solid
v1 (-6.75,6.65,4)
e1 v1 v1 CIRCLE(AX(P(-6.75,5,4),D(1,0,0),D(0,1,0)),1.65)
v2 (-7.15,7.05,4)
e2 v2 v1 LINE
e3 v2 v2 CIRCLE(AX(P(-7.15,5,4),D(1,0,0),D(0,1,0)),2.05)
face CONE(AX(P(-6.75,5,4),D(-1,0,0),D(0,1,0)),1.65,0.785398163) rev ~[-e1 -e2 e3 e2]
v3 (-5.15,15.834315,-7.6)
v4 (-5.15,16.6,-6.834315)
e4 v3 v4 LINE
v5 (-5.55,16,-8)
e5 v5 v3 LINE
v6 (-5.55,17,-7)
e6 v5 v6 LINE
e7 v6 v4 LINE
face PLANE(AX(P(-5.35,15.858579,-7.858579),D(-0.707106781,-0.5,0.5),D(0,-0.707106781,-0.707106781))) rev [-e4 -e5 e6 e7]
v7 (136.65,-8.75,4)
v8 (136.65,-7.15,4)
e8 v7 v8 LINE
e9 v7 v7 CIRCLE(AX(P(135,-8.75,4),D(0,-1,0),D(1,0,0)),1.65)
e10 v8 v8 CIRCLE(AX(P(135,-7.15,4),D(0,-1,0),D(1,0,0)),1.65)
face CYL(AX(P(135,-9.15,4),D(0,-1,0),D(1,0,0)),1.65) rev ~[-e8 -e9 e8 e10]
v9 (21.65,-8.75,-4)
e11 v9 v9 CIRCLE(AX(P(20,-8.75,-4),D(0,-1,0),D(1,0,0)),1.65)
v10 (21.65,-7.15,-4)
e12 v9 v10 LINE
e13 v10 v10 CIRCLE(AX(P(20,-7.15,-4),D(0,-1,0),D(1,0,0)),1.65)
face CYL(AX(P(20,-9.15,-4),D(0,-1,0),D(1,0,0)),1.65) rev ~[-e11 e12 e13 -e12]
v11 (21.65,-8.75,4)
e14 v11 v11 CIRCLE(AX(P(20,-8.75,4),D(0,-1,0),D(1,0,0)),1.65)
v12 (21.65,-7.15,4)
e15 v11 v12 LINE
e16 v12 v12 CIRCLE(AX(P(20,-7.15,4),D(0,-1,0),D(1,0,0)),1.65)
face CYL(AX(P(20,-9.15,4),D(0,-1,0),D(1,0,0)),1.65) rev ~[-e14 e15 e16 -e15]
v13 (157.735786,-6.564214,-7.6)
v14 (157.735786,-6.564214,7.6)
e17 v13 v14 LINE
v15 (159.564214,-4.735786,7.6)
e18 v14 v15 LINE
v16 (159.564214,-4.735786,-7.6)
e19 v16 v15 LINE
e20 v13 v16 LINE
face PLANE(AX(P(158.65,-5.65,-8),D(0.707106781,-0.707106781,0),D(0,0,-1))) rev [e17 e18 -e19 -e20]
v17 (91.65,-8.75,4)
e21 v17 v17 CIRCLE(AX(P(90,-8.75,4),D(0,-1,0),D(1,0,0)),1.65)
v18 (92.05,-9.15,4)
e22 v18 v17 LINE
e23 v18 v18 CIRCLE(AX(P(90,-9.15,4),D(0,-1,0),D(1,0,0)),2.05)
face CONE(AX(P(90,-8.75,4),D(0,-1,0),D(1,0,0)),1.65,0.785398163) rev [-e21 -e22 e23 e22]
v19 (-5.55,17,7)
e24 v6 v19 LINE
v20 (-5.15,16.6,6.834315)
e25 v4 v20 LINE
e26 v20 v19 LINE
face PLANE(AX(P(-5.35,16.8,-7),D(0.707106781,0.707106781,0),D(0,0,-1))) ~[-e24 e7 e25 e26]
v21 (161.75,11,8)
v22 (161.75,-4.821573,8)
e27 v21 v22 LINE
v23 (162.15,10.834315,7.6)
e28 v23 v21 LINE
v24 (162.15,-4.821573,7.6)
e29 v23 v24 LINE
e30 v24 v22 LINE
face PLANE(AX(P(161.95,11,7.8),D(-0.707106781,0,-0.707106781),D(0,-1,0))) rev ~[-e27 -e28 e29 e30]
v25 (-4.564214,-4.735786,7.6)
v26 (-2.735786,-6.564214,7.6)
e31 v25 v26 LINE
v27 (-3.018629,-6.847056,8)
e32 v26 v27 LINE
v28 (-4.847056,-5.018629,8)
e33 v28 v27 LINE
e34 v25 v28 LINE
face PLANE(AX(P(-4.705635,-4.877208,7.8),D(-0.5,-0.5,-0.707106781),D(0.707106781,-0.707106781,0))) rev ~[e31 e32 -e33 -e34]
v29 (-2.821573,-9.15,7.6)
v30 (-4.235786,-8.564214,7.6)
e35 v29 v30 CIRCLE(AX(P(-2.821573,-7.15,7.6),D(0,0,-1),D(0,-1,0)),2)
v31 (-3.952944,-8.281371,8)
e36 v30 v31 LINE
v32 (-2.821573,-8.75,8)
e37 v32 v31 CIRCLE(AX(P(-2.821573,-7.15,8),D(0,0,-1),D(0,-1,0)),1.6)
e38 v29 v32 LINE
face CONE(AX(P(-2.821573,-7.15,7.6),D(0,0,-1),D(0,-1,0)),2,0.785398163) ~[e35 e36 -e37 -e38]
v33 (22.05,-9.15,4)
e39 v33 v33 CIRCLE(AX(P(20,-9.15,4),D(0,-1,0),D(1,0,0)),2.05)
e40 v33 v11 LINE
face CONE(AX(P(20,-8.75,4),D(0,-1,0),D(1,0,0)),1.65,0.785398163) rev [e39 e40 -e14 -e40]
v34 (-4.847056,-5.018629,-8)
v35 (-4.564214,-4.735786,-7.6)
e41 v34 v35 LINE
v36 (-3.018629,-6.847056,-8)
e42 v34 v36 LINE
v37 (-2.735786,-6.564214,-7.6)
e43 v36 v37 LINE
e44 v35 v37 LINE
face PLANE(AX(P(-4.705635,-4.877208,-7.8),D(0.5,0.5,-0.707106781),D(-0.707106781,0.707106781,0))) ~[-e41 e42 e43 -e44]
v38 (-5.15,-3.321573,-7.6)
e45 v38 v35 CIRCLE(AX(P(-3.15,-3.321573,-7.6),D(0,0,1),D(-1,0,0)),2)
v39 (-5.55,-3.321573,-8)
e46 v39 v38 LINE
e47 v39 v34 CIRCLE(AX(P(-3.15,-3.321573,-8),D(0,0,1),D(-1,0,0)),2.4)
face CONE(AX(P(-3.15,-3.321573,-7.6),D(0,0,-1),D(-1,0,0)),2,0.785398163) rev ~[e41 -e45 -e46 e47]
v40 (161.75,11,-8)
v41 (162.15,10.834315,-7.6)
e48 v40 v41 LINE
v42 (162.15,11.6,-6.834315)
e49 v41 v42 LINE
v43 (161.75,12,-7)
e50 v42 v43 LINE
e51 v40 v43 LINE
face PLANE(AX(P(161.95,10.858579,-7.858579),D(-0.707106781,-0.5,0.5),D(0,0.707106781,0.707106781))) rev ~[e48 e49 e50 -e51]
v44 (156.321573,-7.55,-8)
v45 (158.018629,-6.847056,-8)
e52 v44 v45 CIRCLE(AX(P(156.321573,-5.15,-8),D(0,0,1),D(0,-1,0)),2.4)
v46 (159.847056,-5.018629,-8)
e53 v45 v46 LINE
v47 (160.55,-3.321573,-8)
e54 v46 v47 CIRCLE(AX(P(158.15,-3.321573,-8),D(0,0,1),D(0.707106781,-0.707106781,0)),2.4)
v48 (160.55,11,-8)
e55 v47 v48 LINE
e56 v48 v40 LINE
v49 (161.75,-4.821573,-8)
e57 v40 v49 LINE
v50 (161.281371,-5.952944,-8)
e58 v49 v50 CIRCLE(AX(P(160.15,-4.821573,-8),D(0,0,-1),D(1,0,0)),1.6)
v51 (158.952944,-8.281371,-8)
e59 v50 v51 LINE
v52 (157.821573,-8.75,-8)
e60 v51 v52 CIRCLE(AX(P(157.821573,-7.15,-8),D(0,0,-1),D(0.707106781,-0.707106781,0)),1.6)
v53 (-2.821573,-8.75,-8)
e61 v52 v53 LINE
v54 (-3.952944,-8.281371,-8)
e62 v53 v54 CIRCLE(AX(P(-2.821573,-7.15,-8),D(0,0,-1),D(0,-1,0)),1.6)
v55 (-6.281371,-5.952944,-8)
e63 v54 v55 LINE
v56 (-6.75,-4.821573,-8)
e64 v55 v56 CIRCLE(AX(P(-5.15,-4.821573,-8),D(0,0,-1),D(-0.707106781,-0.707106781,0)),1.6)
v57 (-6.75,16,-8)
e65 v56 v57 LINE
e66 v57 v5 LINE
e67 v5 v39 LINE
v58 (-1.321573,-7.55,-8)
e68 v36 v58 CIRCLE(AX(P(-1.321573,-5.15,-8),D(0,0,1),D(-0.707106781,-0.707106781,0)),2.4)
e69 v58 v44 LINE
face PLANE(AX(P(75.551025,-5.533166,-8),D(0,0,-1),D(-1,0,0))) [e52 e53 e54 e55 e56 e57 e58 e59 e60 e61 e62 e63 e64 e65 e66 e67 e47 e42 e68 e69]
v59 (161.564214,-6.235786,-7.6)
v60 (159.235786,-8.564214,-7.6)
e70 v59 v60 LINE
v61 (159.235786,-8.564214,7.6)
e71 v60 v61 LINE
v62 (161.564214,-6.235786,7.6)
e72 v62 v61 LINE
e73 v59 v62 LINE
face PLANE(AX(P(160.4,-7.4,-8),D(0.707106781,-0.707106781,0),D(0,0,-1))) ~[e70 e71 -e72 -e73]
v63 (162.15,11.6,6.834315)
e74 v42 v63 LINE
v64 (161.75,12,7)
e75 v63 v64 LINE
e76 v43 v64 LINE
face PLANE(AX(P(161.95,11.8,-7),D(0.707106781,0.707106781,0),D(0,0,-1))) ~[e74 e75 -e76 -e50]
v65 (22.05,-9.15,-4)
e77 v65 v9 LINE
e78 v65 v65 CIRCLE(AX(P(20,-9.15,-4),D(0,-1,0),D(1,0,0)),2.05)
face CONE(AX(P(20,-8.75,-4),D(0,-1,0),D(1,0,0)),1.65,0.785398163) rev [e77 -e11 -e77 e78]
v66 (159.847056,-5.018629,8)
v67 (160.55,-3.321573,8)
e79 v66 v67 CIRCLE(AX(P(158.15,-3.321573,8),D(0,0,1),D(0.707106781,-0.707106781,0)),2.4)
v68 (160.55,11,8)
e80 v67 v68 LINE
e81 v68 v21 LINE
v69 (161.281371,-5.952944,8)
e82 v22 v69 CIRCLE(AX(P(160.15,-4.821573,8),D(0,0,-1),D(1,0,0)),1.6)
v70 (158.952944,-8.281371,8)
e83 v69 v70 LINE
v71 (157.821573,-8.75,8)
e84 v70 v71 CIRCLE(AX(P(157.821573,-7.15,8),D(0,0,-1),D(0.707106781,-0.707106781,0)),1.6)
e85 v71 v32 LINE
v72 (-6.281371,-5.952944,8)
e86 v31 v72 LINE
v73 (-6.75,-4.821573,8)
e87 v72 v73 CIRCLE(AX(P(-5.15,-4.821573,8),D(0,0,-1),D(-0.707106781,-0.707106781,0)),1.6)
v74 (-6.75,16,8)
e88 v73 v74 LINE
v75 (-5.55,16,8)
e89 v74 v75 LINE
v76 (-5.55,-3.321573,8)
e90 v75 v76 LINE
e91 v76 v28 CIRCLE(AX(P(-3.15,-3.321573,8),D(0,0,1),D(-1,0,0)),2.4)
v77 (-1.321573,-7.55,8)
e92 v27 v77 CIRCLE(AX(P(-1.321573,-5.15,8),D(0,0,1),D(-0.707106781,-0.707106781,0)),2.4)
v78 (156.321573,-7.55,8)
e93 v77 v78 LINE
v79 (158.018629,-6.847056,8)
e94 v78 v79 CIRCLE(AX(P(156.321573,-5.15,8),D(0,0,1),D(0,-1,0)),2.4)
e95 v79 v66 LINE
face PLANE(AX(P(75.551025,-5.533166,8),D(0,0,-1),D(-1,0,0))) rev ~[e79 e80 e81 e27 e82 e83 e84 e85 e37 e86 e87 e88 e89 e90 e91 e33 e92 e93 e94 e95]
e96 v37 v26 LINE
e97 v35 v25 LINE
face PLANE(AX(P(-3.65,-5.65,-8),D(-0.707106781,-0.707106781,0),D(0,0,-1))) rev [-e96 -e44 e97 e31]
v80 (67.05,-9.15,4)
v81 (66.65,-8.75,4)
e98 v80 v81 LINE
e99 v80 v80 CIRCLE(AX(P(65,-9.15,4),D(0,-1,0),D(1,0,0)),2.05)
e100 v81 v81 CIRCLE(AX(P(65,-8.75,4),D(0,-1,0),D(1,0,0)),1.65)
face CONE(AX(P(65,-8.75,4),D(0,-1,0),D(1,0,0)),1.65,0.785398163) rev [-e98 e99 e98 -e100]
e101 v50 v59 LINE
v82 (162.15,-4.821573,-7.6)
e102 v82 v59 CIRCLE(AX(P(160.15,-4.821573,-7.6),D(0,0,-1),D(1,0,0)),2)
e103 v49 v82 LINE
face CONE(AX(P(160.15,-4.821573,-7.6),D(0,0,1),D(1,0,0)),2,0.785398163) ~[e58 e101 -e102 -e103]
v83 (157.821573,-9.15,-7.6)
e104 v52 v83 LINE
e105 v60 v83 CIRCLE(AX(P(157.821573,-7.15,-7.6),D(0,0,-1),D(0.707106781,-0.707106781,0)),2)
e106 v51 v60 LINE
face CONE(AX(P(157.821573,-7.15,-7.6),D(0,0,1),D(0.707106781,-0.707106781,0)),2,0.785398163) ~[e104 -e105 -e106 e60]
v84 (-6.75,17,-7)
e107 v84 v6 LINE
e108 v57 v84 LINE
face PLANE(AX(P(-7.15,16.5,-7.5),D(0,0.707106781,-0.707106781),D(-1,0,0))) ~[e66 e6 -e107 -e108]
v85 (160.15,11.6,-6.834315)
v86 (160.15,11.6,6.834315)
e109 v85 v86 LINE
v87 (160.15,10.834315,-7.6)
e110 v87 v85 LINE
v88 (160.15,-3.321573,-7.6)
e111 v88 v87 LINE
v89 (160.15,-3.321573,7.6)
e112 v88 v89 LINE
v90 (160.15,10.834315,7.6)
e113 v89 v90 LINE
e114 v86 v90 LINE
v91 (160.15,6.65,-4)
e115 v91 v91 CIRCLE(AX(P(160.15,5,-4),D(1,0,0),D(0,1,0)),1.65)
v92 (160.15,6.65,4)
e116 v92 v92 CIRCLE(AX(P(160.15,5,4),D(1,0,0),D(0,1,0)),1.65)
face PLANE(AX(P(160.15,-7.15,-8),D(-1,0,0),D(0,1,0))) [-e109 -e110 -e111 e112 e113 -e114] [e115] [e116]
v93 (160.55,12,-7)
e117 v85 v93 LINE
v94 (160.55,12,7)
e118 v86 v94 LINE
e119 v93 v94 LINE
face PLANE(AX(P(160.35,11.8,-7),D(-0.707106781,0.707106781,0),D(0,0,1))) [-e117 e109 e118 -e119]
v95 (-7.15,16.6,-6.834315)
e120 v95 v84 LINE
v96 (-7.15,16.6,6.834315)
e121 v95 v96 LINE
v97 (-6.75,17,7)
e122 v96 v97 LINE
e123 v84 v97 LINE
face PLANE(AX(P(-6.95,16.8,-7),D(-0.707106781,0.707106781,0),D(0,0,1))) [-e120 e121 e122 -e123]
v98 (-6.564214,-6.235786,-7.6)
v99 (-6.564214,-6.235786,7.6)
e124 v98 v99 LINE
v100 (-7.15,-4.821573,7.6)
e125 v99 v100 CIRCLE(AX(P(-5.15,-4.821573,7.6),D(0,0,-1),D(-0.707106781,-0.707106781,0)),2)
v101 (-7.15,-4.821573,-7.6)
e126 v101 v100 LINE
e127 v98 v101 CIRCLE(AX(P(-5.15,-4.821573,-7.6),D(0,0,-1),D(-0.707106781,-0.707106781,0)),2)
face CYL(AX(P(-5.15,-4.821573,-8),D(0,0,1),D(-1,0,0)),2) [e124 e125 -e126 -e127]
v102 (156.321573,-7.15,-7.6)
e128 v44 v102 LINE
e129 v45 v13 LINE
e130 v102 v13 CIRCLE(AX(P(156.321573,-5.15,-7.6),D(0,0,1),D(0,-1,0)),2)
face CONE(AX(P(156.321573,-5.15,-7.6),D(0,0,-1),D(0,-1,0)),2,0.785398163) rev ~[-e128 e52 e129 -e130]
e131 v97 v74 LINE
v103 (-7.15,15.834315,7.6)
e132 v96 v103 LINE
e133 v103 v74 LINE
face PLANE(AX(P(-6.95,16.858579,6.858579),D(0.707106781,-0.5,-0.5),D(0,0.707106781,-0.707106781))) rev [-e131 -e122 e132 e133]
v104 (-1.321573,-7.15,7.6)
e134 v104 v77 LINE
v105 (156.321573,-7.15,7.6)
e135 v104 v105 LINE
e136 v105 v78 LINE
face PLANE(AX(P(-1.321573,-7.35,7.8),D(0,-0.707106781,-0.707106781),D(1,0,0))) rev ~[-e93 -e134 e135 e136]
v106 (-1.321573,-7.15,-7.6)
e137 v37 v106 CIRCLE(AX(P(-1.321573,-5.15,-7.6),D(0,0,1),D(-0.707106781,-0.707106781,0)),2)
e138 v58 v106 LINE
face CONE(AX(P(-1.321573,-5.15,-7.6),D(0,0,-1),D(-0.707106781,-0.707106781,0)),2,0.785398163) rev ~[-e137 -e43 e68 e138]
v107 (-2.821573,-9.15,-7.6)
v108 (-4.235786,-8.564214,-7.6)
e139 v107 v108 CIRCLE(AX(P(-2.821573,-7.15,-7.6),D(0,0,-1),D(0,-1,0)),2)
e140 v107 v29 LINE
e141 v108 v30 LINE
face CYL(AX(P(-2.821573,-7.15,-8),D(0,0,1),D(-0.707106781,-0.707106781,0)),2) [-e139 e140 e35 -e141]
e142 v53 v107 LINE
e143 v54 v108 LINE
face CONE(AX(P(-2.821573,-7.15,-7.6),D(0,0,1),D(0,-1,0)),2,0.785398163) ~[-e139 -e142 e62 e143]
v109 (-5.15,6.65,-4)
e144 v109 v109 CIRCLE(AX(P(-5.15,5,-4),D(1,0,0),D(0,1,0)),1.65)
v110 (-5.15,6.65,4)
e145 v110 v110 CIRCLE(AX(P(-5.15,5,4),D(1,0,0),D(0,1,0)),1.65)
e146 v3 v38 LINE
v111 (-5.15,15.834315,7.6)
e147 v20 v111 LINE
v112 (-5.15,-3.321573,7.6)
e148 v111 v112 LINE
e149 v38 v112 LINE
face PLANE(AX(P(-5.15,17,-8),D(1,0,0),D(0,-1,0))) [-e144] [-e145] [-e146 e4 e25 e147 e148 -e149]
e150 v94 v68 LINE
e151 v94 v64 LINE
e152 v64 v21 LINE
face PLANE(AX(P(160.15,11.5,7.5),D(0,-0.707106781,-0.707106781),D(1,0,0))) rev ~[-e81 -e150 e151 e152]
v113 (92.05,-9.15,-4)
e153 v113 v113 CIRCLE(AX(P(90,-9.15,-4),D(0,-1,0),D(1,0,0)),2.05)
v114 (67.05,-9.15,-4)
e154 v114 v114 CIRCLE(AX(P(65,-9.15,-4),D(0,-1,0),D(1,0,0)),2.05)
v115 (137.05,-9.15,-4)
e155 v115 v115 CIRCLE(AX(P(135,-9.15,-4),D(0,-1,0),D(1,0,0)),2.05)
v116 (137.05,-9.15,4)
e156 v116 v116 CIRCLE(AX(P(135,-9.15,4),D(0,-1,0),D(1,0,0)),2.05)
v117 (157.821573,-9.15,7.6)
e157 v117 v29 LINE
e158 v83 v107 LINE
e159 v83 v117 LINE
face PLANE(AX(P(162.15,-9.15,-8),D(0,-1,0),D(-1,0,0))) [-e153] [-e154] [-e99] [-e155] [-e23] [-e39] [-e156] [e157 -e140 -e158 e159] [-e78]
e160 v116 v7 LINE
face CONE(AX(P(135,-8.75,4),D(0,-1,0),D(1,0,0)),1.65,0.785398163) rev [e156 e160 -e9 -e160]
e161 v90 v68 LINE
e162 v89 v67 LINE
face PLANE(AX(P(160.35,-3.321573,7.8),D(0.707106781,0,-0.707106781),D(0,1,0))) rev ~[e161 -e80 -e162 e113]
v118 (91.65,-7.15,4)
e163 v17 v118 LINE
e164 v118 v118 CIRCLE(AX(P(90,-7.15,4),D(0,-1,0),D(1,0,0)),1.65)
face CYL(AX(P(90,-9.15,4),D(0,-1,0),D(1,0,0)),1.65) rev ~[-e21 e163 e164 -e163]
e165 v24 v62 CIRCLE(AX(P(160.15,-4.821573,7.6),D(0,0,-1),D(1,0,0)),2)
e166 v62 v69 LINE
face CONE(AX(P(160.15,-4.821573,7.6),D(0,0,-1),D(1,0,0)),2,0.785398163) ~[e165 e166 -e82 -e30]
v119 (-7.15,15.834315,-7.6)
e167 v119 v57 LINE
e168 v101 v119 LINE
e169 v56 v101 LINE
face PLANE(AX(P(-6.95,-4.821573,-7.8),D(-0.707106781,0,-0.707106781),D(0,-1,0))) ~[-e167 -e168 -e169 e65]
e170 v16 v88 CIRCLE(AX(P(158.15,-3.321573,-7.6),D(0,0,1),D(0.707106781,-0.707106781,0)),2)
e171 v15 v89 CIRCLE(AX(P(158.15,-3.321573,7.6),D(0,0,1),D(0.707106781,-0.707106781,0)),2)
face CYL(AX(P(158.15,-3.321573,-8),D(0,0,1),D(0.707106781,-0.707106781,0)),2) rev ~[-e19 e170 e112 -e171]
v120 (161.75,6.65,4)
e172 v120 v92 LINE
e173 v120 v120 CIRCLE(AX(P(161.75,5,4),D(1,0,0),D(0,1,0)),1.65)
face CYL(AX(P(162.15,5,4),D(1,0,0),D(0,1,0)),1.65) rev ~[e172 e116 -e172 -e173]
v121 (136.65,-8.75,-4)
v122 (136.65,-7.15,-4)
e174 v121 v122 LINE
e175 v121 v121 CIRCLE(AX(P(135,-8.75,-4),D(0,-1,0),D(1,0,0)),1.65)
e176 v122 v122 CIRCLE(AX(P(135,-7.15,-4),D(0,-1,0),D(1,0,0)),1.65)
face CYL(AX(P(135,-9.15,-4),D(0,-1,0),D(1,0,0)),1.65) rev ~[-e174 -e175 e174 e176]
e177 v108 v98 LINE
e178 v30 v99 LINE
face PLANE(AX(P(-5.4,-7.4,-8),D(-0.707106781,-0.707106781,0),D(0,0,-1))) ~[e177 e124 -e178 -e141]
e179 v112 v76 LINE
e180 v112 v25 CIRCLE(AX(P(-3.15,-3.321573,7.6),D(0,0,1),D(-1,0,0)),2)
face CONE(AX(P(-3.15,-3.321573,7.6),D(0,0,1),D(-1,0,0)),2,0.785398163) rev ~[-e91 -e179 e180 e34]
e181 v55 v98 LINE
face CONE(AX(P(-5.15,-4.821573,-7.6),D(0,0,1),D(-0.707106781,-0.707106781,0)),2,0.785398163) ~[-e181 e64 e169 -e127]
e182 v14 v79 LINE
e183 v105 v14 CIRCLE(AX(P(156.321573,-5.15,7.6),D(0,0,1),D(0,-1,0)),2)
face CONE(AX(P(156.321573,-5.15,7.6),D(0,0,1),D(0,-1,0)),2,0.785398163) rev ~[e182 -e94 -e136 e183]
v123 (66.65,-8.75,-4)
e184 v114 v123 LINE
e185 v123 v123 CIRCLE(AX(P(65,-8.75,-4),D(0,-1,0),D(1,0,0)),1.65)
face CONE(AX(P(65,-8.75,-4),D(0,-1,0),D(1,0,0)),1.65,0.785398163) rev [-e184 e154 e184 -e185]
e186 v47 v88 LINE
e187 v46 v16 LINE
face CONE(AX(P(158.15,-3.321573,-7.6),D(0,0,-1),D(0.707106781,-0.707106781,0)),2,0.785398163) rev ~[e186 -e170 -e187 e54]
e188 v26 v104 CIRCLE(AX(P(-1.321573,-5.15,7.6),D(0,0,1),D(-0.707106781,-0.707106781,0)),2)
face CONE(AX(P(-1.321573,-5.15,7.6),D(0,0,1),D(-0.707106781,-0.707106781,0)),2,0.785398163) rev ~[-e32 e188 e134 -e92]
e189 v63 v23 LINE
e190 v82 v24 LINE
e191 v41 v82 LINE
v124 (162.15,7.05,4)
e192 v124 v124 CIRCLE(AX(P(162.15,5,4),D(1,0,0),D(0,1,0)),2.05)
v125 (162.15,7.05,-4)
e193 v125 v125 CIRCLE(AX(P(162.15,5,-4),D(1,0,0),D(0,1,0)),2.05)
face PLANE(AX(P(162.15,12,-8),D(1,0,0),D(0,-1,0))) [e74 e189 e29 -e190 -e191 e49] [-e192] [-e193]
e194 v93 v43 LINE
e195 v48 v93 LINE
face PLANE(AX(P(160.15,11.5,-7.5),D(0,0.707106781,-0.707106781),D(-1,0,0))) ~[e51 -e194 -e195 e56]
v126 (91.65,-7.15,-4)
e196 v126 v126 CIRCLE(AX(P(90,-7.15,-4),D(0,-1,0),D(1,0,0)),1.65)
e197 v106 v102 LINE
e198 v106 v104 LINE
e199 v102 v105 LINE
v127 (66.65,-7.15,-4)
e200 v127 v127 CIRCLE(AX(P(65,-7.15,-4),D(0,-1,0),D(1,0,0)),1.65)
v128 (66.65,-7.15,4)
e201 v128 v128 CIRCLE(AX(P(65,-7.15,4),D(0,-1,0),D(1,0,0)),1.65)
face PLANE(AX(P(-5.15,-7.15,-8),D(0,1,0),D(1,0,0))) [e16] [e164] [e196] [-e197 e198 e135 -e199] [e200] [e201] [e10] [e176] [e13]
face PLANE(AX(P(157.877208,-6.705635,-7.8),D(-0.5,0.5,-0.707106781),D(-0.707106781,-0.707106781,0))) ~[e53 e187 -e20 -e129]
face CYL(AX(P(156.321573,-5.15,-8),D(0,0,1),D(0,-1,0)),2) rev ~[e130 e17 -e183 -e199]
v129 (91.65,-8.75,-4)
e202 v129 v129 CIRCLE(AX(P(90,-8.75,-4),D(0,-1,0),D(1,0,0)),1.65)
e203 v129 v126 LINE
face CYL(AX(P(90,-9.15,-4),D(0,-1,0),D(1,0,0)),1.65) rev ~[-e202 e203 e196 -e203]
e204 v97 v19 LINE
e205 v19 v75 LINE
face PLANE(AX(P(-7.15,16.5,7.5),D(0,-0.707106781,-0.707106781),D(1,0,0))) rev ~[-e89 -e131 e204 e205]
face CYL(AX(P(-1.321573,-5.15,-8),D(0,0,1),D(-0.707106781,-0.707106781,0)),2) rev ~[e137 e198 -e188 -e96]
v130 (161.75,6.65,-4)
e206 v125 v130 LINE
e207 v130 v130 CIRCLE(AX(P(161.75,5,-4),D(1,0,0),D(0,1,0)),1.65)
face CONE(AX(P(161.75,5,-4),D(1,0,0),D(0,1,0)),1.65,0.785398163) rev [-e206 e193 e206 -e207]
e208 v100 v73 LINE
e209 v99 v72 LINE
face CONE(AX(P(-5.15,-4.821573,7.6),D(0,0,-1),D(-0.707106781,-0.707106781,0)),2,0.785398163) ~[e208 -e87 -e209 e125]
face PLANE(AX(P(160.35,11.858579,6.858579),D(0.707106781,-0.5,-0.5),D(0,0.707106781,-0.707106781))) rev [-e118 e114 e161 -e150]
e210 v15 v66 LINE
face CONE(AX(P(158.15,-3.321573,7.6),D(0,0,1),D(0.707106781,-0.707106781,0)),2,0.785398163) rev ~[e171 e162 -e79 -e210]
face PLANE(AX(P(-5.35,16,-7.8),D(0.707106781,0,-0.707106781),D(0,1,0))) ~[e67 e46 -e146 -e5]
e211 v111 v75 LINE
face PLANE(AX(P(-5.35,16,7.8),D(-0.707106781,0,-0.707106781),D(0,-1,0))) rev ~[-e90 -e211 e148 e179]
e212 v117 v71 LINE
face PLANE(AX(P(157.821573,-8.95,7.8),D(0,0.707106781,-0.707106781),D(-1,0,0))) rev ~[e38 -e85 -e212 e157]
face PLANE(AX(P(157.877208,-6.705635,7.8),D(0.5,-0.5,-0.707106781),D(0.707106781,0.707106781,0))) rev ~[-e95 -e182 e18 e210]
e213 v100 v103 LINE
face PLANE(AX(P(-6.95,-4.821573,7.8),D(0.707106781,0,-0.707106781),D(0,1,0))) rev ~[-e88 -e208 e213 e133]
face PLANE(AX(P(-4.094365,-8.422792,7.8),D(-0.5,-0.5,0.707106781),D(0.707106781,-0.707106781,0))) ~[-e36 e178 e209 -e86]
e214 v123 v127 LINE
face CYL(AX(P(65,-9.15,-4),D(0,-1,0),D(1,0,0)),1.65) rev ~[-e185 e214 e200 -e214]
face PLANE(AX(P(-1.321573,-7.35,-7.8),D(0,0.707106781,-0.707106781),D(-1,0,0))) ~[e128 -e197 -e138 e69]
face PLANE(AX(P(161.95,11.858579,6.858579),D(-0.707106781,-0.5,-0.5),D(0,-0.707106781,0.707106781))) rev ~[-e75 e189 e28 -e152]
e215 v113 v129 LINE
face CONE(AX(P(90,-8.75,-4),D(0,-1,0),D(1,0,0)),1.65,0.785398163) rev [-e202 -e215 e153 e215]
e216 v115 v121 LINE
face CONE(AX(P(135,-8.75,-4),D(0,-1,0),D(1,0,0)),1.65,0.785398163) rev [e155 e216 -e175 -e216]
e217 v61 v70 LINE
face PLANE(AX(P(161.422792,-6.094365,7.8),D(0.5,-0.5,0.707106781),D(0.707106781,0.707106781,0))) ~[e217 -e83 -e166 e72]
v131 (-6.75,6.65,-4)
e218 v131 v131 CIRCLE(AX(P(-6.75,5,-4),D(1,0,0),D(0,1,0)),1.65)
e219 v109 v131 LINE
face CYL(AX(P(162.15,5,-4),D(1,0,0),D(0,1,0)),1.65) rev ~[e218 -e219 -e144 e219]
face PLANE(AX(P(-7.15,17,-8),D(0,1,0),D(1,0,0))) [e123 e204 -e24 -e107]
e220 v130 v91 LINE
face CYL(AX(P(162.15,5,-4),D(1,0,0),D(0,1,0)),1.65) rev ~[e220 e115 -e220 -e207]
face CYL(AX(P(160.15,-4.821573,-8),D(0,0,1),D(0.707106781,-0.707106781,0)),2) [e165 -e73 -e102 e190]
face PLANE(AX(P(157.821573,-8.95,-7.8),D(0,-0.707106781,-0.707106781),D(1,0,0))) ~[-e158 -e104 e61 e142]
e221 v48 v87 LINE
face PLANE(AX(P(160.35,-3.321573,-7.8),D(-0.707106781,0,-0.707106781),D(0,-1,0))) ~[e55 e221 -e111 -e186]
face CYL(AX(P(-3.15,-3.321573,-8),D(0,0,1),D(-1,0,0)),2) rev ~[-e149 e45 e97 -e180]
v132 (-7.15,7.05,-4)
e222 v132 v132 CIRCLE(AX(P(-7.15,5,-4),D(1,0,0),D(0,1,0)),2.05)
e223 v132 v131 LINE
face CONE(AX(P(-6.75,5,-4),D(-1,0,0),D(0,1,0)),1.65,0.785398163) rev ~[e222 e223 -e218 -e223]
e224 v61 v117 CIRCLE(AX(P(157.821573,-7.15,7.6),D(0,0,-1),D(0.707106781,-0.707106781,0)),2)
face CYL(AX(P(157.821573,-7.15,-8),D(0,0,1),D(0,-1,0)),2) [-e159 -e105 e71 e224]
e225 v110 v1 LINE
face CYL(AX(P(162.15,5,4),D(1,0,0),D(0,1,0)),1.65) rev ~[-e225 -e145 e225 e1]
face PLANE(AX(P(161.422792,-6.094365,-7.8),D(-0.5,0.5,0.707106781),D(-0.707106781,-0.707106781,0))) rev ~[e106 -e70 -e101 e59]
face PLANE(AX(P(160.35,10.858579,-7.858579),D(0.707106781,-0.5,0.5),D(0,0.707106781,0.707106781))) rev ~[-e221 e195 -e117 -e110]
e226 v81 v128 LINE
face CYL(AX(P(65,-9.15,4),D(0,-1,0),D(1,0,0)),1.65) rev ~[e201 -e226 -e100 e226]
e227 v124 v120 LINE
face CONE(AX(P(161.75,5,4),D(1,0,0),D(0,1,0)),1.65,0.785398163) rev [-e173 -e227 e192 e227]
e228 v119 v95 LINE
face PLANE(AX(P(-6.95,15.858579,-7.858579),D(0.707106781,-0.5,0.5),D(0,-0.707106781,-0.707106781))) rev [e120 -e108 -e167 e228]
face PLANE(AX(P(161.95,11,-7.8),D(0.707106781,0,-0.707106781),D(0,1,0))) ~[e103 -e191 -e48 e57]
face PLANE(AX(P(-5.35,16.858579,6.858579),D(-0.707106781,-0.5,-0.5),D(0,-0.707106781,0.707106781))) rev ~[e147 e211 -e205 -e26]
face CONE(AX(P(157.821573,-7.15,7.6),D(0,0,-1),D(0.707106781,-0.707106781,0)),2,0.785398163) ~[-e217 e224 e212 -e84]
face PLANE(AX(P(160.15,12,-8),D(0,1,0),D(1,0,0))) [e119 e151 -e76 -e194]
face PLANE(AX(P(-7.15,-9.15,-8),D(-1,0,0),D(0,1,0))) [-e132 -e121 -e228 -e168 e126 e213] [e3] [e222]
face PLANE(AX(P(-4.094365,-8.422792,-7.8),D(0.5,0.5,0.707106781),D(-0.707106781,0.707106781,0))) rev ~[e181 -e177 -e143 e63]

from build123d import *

# Parameters (mm, degrees)
PAD007_DEPTH    = 16
CHAMFER016_SIZE = 3
FILLET_R        = 2
CHAMFER017_SIZE = 3.5
FILLET008_R     = 2
CHAMFER018_SIZE = 1
CHAMFER019_SIZE = 0.4
SKETCH033_R     = 1.65
POCKET024_DEPTH = 26.151
SKETCH034_R     = 1.65
POCKET025_DEPTH = 169.301
CHAMFER023_SIZE = 0.4


with BuildPart() as part:
    # Sketch032 → Pad007 (new body)
    with BuildSketch(Plane.XY):
        Polygon((-7.15, 17), (-5.15, 17), (-5.15, -7.15), (160.15, -7.15), (160.15, 12), (162.15, 12), (162.15, -9.15), (-7.15, -9.15), align=None)
    extrude(amount=PAD007_DEPTH)

    # Chamfer016
    chamfer016_edges = [part.edges().sort_by_distance(p)[0] for p in [
        (160.15, -7.15, 8),
        (-5.15, -7.15, 8),
    ]]
    chamfer(chamfer016_edges, length=CHAMFER016_SIZE)

    # Fillet
    fillet_edges = [part.edges().sort_by_distance(p)[0] for p in [
        (-5.15, -4.15, 8),
        (-2.15, -7.15, 8),
        (157.15, -7.15, 8),
        (160.15, -4.15, 8),
    ]]
    fillet(fillet_edges, radius=FILLET_R)

    # Chamfer017
    chamfer017_edges = [part.edges().sort_by_distance(p)[0] for p in [
        (-7.15, -9.15, 8),
        (162.15, -9.15, 8),
    ]]
    chamfer(chamfer017_edges, length=CHAMFER017_SIZE)

    # Fillet008
    fillet008_edges = [part.edges().sort_by_distance(p)[0] for p in [
        (-7.15, -5.65, 8),
        (-3.65, -9.15, 8),
        (158.65, -9.15, 8),
        (162.15, -5.65, 8),
    ]]
    fillet(fillet008_edges, radius=FILLET008_R)

    # Chamfer018
    chamfer018_edges = [part.edges().sort_by_distance(p)[0] for p in [
        (-6.15, 17, 0),
        (-6.15, 17, 16),
        (161.15, 12, 0),
        (161.15, 12, 16),
    ]]
    chamfer(chamfer018_edges, length=CHAMFER018_SIZE)

    # Chamfer019
    chamfer019_edges = [part.edges().sort_by_distance(p)[0] for p in [
        (-7.15, 5.589214, 16),
        (-7.15, 16.5, 15.5),
        (-7.15, 17, 8),
        (-7.15, 16.5, 0.5),
        (-7.15, 5.589214, 0),
        (-6.997759, -5.58694, 0),
        (-5.4, -7.4, 0),
        (-3.58694, -8.997759, 0),
        (77.5, -9.15, 0),
        (-6.997759, -5.58694, 16),
        (-5.4, -7.4, 16),
        (-3.58694, -8.997759, 16),
        (77.5, -9.15, 16),
        (158.58694, -8.997759, 16),
        (160.4, -7.4, 16),
        (161.997759, -5.58694, 16),
        (162.15, 3.089214, 16),
        (158.58694, -8.997759, 0),
        (160.4, -7.4, 0),
        (161.997759, -5.58694, 0),
        (162.15, 3.089214, 0),
        (162.15, 11.5, 0.5),
        (162.15, 12, 8),
        (162.15, 11.5, 15.5),
        (160.15, 11.5, 15.5),
        (160.15, 12, 8),
        (160.15, 11.5, 0.5),
        (160.15, 3.839214, 0),
        (159.997759, -4.08694, 0),
        (158.65, -5.65, 0),
        (157.08694, -6.997759, 0),
        (77.5, -7.15, 0),
        (-2.08694, -6.997759, 0),
        (-3.65, -5.65, 0),
        (-4.997759, -4.08694, 0),
        (-5.15, 6.339214, 0),
        (-5.15, 16.5, 0.5),
        (-5.15, 17, 8),
        (-5.15, 16.5, 15.5),
        (-5.15, 6.339214, 16),
        (-4.997759, -4.08694, 16),
        (-3.65, -5.65, 16),
        (-2.08694, -6.997759, 16),
        (77.5, -7.15, 16),
        (157.08694, -6.997759, 16),
        (158.65, -5.65, 16),
        (159.997759, -4.08694, 16),
        (160.15, 3.839214, 16),
    ]]
    chamfer(chamfer019_edges, length=CHAMFER019_SIZE)

    # Sketch033 (on Face33 of Chamfer019) → Pocket024 (cut, through all)
    with BuildSketch(Plane.XZ.offset(9.15)):
        with Locations((20, 12)):
            Circle(SKETCH033_R)
        with Locations((20, 4)):
            Circle(SKETCH033_R)
        with Locations((65, 12)):
            Circle(SKETCH033_R)
        with Locations((65, 4)):
            Circle(SKETCH033_R)
        with Locations((90, 12)):
            Circle(SKETCH033_R)
        with Locations((90, 4)):
            Circle(SKETCH033_R)
        with Locations((135, 12)):
            Circle(SKETCH033_R)
        with Locations((135, 4)):
            Circle(SKETCH033_R)
    extrude(amount=-POCKET024_DEPTH, mode=Mode.SUBTRACT)

    # Sketch034 (on Face42 of Pocket024) → Pocket025 (cut, through all)
    with BuildSketch(Plane.YZ.offset(162.15)):
        with Locations((5, 12)):
            Circle(SKETCH034_R)
        with Locations((5, 4)):
            Circle(SKETCH034_R)
    extrude(amount=-POCKET025_DEPTH, mode=Mode.SUBTRACT)

    # Chamfer023
    chamfer023_edges = [part.edges().sort_by_distance(p)[0] for p in [
        (-7.15, 3.35, 4),
        (-7.15, 3.35, 12),
        (18.35, -9.15, 12),
        (18.35, -9.15, 4),
        (63.35, -9.15, 4),
        (63.35, -9.15, 12),
        (88.35, -9.15, 4),
        (88.35, -9.15, 12),
        (133.35, -9.15, 12),
        (133.35, -9.15, 4),
        (162.15, 3.35, 12),
        (162.15, 3.35, 4),
    ]]
    chamfer(chamfer023_edges, length=CHAMFER023_SIZE)


with BuildPart() as part_1:
    # Body004014 placement: moved
    add(part.part.moved(Location((0, 0, -8))))


solid = part_1.part
